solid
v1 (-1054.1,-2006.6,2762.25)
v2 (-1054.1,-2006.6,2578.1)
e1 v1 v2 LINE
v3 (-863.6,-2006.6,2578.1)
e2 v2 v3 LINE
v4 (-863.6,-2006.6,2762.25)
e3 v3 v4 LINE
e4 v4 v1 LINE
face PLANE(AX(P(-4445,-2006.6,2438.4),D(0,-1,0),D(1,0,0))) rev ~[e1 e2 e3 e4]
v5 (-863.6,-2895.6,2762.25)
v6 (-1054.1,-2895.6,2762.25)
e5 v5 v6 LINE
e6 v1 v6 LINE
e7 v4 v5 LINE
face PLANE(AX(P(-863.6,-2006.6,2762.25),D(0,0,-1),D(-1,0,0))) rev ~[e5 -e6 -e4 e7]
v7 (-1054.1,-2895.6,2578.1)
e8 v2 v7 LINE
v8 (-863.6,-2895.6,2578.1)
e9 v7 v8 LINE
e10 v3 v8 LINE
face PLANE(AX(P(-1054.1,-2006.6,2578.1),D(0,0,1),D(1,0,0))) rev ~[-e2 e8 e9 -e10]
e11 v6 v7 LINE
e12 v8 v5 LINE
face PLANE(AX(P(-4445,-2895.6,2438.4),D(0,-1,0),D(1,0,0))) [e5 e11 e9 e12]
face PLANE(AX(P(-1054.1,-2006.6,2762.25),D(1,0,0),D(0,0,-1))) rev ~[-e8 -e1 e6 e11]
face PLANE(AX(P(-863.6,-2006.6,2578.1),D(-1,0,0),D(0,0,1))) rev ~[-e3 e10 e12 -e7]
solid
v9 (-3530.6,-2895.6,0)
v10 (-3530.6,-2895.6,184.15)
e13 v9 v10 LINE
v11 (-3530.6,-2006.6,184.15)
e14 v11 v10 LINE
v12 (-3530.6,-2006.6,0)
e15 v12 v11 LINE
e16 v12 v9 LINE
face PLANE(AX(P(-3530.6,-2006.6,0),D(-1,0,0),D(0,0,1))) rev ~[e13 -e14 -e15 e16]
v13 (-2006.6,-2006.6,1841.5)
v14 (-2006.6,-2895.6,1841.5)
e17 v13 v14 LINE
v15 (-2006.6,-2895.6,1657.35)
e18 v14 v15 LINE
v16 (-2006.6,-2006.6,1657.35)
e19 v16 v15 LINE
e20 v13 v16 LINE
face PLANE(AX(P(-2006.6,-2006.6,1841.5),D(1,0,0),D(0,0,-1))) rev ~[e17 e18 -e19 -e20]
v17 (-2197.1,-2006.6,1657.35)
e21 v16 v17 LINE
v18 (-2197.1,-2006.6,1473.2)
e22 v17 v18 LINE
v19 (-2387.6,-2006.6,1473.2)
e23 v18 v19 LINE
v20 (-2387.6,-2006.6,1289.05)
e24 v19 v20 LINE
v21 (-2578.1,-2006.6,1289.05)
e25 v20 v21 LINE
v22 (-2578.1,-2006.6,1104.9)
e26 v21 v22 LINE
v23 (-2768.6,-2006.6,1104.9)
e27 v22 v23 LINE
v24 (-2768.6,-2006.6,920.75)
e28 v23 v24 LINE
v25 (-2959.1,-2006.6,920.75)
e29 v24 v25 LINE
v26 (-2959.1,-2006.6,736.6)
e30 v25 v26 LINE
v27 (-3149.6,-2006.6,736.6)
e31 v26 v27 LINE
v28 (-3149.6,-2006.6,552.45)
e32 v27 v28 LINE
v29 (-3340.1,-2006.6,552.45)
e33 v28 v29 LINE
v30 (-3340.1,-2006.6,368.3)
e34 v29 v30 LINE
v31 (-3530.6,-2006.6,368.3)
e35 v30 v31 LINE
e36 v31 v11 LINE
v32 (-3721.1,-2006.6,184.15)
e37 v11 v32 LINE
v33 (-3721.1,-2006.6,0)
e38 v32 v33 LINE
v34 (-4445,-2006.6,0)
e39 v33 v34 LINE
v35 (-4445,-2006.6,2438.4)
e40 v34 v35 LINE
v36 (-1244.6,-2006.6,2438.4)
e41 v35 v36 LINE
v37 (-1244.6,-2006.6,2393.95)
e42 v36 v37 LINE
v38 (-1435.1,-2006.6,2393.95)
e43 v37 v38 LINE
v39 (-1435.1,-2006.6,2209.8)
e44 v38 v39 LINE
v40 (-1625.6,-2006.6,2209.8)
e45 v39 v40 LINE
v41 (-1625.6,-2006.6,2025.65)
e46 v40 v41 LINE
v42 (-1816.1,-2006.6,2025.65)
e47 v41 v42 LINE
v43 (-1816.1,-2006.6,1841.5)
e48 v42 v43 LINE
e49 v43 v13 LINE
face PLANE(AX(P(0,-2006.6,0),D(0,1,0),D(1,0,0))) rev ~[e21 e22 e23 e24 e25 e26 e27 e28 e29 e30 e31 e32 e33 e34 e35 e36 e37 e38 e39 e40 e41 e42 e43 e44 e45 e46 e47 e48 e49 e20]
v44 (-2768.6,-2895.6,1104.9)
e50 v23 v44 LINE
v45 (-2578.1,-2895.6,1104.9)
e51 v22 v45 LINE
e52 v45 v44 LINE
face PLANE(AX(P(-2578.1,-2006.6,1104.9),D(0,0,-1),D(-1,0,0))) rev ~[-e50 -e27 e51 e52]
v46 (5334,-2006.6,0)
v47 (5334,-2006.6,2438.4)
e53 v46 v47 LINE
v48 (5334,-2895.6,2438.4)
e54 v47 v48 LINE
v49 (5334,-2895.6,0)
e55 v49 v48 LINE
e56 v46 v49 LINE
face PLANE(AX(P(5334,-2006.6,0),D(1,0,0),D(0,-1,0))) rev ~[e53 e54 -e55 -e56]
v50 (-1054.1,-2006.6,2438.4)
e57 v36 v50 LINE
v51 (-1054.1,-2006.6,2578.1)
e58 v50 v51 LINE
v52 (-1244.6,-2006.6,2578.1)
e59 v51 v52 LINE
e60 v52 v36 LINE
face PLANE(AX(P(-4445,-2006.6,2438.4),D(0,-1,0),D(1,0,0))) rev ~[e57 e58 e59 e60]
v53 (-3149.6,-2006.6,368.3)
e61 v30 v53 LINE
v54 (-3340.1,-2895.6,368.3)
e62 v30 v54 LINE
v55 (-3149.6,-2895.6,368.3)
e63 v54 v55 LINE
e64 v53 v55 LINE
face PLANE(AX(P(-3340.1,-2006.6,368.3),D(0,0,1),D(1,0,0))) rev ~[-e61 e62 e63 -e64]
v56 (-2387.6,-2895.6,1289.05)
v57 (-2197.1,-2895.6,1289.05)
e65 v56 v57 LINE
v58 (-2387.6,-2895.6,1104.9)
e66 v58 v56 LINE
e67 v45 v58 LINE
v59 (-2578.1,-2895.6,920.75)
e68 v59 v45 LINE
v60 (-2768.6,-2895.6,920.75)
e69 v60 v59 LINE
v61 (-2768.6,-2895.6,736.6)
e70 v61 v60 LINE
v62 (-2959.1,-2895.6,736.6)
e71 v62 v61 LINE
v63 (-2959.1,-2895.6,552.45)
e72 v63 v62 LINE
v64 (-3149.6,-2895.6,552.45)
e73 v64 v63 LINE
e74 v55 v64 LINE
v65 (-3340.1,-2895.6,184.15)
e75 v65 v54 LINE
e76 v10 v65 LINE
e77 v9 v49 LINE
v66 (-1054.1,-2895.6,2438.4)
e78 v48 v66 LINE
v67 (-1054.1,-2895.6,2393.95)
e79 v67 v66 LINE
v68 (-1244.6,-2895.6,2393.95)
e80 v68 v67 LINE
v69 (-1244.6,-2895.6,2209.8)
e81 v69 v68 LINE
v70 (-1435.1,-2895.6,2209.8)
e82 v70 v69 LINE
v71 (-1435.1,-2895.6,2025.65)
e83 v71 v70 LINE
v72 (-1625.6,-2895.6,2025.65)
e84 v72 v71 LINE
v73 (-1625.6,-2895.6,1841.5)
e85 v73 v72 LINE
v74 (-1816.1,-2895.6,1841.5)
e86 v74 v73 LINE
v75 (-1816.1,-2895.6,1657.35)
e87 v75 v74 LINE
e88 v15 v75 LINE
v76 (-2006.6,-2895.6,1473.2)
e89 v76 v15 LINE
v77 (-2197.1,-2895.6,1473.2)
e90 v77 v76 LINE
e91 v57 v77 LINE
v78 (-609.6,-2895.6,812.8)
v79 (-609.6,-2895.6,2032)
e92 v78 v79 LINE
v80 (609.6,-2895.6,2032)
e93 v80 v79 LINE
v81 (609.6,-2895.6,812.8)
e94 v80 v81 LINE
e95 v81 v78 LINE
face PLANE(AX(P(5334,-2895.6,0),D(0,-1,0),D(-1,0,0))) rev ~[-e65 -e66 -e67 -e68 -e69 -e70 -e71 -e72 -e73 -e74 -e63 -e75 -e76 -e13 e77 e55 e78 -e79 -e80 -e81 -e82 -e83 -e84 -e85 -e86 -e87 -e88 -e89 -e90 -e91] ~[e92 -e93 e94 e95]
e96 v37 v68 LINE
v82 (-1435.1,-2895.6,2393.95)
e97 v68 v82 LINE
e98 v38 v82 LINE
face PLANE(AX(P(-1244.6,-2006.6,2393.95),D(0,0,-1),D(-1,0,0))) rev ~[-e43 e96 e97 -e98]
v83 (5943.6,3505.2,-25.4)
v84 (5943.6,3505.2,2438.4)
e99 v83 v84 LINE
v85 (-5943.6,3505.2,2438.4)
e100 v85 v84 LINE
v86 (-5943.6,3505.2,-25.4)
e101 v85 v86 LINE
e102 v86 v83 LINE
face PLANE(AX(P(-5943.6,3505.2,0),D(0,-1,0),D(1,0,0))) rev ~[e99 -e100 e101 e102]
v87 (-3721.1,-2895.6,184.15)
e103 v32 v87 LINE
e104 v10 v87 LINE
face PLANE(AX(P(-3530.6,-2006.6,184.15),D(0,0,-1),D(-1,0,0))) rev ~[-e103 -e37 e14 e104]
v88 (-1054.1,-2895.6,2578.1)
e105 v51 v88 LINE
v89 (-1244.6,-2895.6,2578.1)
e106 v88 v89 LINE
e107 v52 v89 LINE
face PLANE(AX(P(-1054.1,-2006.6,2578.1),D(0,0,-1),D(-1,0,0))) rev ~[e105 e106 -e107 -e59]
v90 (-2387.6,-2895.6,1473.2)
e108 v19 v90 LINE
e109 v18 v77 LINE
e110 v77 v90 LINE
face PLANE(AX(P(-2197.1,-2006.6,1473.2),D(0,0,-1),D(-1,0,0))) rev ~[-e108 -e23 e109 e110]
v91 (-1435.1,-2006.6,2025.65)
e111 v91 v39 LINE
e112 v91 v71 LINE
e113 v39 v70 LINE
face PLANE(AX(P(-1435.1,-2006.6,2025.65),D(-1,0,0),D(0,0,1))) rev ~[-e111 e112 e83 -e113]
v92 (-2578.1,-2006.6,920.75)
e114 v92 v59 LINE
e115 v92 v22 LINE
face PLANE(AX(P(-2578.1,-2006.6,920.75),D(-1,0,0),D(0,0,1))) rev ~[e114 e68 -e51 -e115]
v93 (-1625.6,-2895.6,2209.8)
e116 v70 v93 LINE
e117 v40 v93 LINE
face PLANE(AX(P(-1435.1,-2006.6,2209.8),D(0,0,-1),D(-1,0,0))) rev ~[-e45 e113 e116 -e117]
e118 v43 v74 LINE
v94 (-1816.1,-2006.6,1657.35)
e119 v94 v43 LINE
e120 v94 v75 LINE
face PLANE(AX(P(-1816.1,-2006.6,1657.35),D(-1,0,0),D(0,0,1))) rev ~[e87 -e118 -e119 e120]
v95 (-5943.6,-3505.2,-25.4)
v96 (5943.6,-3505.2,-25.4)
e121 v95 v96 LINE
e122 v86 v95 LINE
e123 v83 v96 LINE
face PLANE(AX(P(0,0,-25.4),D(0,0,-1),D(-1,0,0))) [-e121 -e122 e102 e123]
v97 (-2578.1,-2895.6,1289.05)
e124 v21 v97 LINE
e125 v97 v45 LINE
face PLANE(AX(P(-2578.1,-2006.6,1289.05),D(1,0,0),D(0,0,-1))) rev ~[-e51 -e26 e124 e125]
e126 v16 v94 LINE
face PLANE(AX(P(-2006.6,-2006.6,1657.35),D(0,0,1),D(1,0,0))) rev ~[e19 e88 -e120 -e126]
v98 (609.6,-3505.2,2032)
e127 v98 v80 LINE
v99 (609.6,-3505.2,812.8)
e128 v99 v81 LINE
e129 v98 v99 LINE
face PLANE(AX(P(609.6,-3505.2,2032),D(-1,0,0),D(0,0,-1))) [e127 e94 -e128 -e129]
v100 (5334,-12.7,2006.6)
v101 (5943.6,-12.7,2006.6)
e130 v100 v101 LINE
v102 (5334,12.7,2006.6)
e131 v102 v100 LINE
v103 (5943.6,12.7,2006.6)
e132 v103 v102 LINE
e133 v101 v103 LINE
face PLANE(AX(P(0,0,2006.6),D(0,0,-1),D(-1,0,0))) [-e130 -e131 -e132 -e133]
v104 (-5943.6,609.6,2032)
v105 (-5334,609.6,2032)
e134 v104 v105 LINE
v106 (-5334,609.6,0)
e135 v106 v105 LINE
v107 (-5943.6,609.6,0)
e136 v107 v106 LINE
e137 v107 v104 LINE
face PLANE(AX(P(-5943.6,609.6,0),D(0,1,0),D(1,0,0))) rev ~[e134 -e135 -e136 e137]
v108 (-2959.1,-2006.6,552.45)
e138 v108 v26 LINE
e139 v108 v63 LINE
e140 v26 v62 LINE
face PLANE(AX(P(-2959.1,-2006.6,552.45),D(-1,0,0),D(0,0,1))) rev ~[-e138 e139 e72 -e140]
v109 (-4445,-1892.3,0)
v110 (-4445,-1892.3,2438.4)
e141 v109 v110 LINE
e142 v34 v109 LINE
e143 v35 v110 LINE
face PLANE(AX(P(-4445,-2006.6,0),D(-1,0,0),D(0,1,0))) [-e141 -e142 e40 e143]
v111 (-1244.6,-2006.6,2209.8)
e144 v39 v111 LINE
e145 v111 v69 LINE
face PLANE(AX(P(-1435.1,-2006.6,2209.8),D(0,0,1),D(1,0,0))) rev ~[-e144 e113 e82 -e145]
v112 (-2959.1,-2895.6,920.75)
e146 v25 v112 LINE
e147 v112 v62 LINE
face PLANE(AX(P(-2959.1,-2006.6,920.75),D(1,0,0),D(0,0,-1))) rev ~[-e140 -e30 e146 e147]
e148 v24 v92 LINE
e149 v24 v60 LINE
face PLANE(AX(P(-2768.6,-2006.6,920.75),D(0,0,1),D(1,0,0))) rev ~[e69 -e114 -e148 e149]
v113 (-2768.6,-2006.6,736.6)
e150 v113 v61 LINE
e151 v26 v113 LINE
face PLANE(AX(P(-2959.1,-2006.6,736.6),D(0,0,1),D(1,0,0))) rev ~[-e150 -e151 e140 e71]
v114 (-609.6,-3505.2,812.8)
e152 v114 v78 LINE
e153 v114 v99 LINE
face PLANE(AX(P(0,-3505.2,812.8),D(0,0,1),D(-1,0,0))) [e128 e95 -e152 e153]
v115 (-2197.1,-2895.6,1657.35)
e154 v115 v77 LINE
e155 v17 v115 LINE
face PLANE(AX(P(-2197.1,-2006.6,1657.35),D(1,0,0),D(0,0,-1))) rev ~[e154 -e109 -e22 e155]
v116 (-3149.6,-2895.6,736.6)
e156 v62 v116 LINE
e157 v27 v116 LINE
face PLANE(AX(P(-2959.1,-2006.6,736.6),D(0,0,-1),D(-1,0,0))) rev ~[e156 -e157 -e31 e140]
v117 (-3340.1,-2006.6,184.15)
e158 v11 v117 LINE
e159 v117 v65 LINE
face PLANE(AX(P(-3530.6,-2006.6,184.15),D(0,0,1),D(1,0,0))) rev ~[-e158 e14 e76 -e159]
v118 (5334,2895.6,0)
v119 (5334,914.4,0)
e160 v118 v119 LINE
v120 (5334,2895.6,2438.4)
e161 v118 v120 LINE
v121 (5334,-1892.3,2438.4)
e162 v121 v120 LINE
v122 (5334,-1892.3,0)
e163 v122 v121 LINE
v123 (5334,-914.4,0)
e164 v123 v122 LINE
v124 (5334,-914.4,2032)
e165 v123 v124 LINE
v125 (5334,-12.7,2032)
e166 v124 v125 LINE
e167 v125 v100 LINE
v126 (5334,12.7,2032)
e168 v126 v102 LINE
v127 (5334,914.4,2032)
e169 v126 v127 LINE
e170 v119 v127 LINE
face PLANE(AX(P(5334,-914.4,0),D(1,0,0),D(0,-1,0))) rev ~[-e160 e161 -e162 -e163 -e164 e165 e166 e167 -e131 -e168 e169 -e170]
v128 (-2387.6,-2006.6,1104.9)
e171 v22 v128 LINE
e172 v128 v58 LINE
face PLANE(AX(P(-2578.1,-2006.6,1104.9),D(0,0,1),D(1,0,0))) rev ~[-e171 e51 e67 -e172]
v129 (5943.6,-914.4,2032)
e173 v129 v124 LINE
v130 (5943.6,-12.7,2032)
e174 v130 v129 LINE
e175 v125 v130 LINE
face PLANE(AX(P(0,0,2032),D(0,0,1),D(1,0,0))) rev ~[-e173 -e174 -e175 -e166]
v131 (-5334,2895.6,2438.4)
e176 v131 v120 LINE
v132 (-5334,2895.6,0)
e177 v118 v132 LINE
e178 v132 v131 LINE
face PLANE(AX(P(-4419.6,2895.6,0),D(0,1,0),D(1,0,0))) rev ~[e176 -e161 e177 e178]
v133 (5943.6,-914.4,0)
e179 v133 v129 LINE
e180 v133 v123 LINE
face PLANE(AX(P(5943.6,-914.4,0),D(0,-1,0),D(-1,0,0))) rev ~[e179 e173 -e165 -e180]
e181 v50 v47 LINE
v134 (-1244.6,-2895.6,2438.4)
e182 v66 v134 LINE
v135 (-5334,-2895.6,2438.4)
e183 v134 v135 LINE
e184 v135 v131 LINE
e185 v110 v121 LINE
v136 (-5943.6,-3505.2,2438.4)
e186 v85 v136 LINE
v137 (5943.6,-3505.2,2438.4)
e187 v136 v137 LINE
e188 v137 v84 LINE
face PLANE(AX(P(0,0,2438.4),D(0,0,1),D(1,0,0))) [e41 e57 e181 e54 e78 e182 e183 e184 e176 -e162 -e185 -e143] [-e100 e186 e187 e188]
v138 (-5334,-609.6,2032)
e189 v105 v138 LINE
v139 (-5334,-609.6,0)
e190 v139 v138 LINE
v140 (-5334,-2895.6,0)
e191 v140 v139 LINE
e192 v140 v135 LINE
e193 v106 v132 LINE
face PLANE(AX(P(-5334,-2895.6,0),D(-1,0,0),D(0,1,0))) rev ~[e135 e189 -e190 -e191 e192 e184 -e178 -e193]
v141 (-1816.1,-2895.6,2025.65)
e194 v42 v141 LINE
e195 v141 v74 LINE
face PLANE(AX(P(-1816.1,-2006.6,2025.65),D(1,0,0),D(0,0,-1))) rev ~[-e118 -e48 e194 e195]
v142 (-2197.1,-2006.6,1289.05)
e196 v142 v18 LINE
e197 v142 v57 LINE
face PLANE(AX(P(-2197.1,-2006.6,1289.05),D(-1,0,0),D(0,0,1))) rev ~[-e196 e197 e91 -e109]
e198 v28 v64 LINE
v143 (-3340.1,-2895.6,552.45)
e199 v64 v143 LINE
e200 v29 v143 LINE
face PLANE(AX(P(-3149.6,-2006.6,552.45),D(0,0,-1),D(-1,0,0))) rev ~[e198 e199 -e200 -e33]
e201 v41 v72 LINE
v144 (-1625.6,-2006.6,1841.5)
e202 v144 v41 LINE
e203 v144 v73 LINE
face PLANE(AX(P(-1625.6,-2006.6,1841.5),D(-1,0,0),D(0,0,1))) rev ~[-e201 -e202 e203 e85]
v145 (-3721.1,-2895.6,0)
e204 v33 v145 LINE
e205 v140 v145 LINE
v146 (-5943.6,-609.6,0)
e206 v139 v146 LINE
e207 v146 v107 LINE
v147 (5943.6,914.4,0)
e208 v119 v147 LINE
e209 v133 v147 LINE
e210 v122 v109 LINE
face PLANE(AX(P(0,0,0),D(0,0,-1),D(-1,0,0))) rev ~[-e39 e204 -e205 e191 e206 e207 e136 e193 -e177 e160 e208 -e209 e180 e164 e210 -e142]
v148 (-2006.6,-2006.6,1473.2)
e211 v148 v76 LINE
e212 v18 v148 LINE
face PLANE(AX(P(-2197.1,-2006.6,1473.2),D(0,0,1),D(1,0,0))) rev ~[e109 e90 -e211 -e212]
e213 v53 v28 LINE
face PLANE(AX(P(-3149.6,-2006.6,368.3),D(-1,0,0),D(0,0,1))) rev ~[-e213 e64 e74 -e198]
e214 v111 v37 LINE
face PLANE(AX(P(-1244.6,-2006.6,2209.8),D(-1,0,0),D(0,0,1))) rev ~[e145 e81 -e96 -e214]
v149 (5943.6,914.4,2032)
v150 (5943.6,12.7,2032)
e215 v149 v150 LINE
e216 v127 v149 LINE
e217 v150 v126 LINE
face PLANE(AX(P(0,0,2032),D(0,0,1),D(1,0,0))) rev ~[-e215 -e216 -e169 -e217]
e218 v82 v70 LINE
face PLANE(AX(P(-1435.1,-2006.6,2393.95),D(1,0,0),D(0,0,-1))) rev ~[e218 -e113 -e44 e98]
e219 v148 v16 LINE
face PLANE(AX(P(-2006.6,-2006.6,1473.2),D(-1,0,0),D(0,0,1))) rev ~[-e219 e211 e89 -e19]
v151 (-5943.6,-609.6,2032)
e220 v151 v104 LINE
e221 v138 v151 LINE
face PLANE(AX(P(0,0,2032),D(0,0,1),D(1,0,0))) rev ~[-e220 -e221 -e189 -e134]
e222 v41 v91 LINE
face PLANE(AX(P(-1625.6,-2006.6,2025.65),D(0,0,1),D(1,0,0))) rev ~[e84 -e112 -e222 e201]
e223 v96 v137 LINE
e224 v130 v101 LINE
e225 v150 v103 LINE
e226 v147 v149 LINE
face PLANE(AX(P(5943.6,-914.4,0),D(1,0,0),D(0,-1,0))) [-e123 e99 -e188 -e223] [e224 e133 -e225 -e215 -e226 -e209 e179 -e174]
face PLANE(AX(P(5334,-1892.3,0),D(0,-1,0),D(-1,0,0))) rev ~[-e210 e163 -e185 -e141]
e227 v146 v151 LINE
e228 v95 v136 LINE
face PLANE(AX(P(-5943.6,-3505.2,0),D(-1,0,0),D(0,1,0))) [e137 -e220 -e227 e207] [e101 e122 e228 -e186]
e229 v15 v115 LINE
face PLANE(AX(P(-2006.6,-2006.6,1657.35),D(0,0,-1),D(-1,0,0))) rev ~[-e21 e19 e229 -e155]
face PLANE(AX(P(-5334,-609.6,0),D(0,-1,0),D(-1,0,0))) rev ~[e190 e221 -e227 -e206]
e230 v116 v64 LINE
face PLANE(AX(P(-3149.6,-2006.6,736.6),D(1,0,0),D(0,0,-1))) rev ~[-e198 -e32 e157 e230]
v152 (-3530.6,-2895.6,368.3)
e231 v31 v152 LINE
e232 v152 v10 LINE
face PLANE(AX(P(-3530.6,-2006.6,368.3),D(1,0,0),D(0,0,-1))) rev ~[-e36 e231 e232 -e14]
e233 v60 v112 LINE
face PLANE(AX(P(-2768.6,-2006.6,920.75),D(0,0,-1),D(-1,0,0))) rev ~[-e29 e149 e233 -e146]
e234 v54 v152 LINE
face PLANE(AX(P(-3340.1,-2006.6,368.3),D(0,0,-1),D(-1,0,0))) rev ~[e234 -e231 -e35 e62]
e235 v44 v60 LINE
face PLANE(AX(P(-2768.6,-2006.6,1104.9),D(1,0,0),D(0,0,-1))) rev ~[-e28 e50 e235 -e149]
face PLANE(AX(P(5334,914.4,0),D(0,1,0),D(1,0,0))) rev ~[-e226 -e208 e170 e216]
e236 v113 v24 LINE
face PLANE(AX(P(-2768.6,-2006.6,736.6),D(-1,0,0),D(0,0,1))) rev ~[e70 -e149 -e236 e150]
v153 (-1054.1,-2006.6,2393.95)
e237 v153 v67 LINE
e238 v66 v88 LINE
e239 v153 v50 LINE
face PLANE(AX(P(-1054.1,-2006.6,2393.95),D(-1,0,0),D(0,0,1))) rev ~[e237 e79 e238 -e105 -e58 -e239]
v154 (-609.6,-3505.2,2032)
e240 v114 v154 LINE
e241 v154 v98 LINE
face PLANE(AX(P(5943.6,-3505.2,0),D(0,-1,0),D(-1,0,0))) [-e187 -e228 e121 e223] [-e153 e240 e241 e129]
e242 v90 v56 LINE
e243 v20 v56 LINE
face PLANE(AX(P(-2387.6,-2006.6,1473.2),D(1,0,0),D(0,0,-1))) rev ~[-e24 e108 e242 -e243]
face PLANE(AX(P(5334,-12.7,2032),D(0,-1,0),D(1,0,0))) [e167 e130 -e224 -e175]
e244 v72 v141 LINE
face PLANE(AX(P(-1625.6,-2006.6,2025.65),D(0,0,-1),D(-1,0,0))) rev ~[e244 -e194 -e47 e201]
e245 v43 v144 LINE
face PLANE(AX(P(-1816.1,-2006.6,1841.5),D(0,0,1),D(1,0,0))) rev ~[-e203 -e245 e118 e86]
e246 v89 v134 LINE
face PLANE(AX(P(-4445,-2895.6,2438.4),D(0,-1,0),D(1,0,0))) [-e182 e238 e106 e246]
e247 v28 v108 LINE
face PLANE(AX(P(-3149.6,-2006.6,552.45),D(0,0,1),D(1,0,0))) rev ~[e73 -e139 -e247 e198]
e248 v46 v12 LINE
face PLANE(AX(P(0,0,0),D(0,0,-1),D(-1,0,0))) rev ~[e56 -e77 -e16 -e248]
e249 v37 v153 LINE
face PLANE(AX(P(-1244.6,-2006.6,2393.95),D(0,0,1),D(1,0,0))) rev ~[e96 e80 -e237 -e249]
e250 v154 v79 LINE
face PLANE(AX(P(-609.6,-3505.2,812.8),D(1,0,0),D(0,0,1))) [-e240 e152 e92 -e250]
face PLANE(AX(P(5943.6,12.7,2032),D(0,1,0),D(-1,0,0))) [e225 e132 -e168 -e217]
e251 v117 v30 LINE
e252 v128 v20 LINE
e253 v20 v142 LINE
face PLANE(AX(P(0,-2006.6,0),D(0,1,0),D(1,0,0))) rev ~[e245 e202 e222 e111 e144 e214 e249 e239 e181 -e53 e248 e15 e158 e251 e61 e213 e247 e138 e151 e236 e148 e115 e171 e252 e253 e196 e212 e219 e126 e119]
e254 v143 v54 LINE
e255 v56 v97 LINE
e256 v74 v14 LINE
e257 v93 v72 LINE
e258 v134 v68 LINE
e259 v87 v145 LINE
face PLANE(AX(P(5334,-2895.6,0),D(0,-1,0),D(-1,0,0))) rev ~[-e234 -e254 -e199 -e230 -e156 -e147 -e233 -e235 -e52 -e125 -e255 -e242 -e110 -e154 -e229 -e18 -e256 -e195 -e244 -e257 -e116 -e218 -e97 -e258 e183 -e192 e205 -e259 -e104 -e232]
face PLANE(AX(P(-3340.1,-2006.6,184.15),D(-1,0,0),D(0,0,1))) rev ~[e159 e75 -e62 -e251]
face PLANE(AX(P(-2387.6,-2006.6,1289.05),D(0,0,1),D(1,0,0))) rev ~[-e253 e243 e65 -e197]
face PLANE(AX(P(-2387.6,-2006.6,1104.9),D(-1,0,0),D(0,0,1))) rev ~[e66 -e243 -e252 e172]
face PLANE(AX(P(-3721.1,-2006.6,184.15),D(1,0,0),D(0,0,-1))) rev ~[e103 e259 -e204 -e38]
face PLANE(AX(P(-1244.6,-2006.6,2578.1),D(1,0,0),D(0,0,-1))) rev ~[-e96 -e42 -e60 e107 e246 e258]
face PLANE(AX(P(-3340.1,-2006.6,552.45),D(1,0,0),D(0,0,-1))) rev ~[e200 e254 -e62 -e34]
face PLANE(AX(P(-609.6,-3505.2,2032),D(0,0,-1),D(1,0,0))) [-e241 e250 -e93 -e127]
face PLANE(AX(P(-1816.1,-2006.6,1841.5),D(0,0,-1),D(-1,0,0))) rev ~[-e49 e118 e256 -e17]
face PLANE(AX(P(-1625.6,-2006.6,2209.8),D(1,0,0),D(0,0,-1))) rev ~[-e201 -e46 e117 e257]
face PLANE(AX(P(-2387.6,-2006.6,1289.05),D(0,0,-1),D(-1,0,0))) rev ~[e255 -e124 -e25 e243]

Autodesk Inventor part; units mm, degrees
ref_plane "YZ Plane" through (0, 0, 0) normal (1, 0, 0) x (0, 1, 0)
ref_plane "XZ Plane" through (0, 0, 0) normal (0, 1, 0) x (-1, 0, 0)
ref_plane "XY Plane" through (0, 0, 0) normal (0, 0, 1) x (1, 0, 0)
sketch "Sketch1" plane through (0, 0, 0) normal (0, 0, 1) x (1, 0, 0)
  line L0 (-8321.04, 0) -> (8321.04, 0) projected
  line L1 (-5943.6, 3505.2) -> (5943.6, 3505.2)
  line L2 (-5334, 2895.6) -> (5334, 2895.6)
  line L3 (-4572, 2895.6) -> (-4419.6, 2895.6)
  line L4 (-1981.2, -2006.6) -> (-4445, -2006.6)
  line L5 (-4445, -2006.6) -> (-4445, -1892.3)
  line L6 (-1219.2, -2895.6) -> (-1066.8, -2895.6)
  line L7 (5334, -2895.6) -> (0, -2895.6)
  line L8 (0, -2895.6) -> (-5334, -2895.6)
  line L9 (5943.6, -3505.2) -> (0, -3505.2)
  line L10 (0, -3505.2) -> (-5943.6, -3505.2)
  line L11 (5334, 914.4) -> (5943.6, 914.4)
  line L12 (5943.6, -914.4) -> (5334, -914.4)
  line L13 (5334, 2895.6) -> (5334, 914.4)
  line L14 (5334, -914.4) -> (5334, -2895.6)
  line L15 (5943.6, 3505.2) -> (5943.6, 914.4)
  line L16 (5943.6, -914.4) -> (5943.6, -3505.2)
  line L17 (-4445, -2006.6) -> (5334, -2006.6)
  line L18 (5334, -1892.3) -> (-4445, -1892.3)
  line L19 (-4445, -1892.3) -> (-4445, -2006.6)
  line L20 (5334, -1892.3) -> (5334, -2006.6)
  line L21 (-5943.6, 609.6) -> (-5334, 609.6)
  line L22 (-5334, -609.6) -> (-5943.6, -609.6)
  line L23 (-5943.6, -3505.2) -> (-5943.6, -609.6)
  line L24 (-5943.6, 609.6) -> (-5943.6, 3505.2)
  line L25 (-5334, -2895.6) -> (-5334, -609.6)
  line L26 (-5334, 609.6) -> (-5334, 2895.6)
  line L27 (-4445, -2006.6) -> (-4419.6, -2006.6)
  line L28 (-4419.6, 2895.6) -> (-4572, 2895.6)
  line L29 (-4445, -1892.3) -> (-4445, -2006.6)
  line L30 (0, -4907.28) -> (0, 4907.28) projected
  dimension "d18" = 7010.4
  dimension "d19" = 609.6
  dimension "d20" = 609.6
  dimension "d23" = 1828.8
  dimension "d24" = 2590.8
  dimension "d25" = 609.6
  dimension "d28" = 114.3
  dimension "d29" = 0
  dimension "d34" = 1219.2
  dimension "d35" = 2895.6
  dimension "d36" = 609.6
  dimension "d46" = 889
  dimension "d105" = 889
  dimension "d106" = 11887.2
extrude "Extrusion9" add sketch "Sketch1" along normal blind 2438.4 contours L18 L14 L17 L30 | L30 L17 L4 L5 L18 | L1 L30 L2 L26 L21 L24 | L1 L15 L11 L13 L2 L30 | L14 L12 L16 L9 L30 L7 | L30 L10 L23 L22 L25 L8 L6
sketch "Sketch8" plane through (0, 0, 0) normal (0, 0, -1) x (-1, 0, 0)
  line L0 (5943.6, 3505.2) -> (-5943.6, 3505.2) projected
  line L1 (-5943.6, 3505.2) -> (-5943.6, 914.4) projected
  line L2 (-5943.6, 914.4) -> (-5334, 914.4) projected
  line L3 (-5334, 914.4) -> (-5334, 2895.6) projected
  line L4 (-5334, 2895.6) -> (5334, 2895.6) projected
  line L5 (5334, 2895.6) -> (5334, 609.6) projected
  line L6 (5334, 609.6) -> (5943.6, 609.6) projected
  line L7 (5943.6, 609.6) -> (5943.6, 3505.2) projected
  line L8 (-5943.6, 3505.2) -> (5943.6, 3505.2)
  line L9 (5943.6, 3505.2) -> (5943.6, -3505.2)
  line L10 (5943.6, -3505.2) -> (-5943.6, -3505.2)
  line L11 (-5943.6, -3505.2) -> (-5943.6, 3505.2)
  point P0 (0, 0)
extrude "Extrusion10" add sketch "Sketch8" along normal blind 25.4
sketch "Sketch9" plane through (0, 0, 2438.4) normal (0, 0, 1) x (1, 0, 0)
  line L0 (5943.6, 3505.2) -> (-5943.6, 3505.2) projected
  line L1 (-5943.6, 3505.2) -> (-5943.6, 609.6) projected
  line L2 (-5943.6, 609.6) -> (-5334, 609.6) projected
  line L3 (-5334, 609.6) -> (-5334, 2895.6) projected
  line L4 (-5334, 2895.6) -> (5334, 2895.6) projected
  line L5 (5334, 2895.6) -> (5334, 914.4) projected
  line L6 (5334, 914.4) -> (5943.6, 914.4) projected
  line L7 (5943.6, 914.4) -> (5943.6, 3505.2) projected
  line L8 (-5943.6, 609.6) -> (-5334, 609.6)
  line L9 (-5334, 609.6) -> (-5334, -609.6)
  line L10 (-5334, -609.6) -> (-5943.6, -609.6)
  line L11 (-5943.6, -609.6) -> (-5943.6, 609.6)
  line L12 (5334, 914.4) -> (5943.6, 914.4)
  line L13 (5943.6, 914.4) -> (5943.6, -914.4)
  line L14 (5943.6, -914.4) -> (5334, -914.4)
  line L15 (5334, -914.4) -> (5334, 914.4)
  point P0 (0, 0)
extrude "Extrusion11" add sketch "Sketch9" against normal blind 406.4 contours L13 L14 L15 L6 | L2 L9 L10 L11
sketch "Sketch10" plane through (-4445, -2006.6, 2438.4) normal (0, -1, 0) x (1, 0, 0)
  line L0 (0, -2438.4) -> (9779, -2438.4) projected
  line L1 (0, -2438.4) -> (0, 0) projected
  line L2 (723.9, -2438.4) -> (914.4, -2438.4)
  line L3 (914.4, -2438.4) -> (914.4, -2254.25)
  line L4 (914.4, -2254.25) -> (723.9, -2254.25)
  line L5 (723.9, -2254.25) -> (723.9, -2438.4)
  line L6 (914.4, -2254.25) -> (1104.9, -2254.25)
  line L7 (1104.9, -2254.25) -> (1104.9, -2070.1)
  line L8 (1104.9, -2070.1) -> (914.4, -2070.1)
  line L9 (914.4, -2070.1) -> (914.4, -2254.25)
  line L10 (1104.9, -2070.1) -> (1295.4, -2070.1)
  line L11 (1295.4, -2070.1) -> (1295.4, -1885.95)
  line L12 (1295.4, -1885.95) -> (1104.9, -1885.95)
  line L13 (1104.9, -1885.95) -> (1104.9, -2070.1)
  line L14 (1295.4, -1885.95) -> (1485.9, -1885.95)
  line L15 (1485.9, -1885.95) -> (1485.9, -1701.8)
  line L16 (1485.9, -1701.8) -> (1295.4, -1701.8)
  line L17 (1295.4, -1701.8) -> (1295.4, -1885.95)
  line L18 (1485.9, -1701.8) -> (1676.4, -1701.8)
  line L19 (1676.4, -1701.8) -> (1676.4, -1517.65)
  line L20 (1676.4, -1517.65) -> (1485.9, -1517.65)
  line L21 (1485.9, -1517.65) -> (1485.9, -1701.8)
  line L22 (1676.4, -1517.65) -> (1866.9, -1517.65)
  line L23 (1866.9, -1517.65) -> (1866.9, -1333.5)
  line L24 (1866.9, -1333.5) -> (1676.4, -1333.5)
  line L25 (1676.4, -1333.5) -> (1676.4, -1517.65)
  line L26 (1866.9, -1333.5) -> (2057.4, -1333.5)
  line L27 (2057.4, -1333.5) -> (2057.4, -1149.35)
  line L28 (2057.4, -1149.35) -> (1866.9, -1149.35)
  line L29 (1866.9, -1149.35) -> (1866.9, -1333.5)
  line L30 (2438.4, -965.2) -> (2438.4, -781.05)
  line L31 (2247.9, -1149.35) -> (2247.9, -965.2)
  line L32 (2247.9, -965.2) -> (2438.4, -965.2)
  line L33 (2438.4, -781.05) -> (2247.9, -781.05)
  line L34 (2247.9, -781.05) -> (2247.9, -965.2)
  line L35 (2057.4, -1149.35) -> (2247.9, -1149.35)
  line L36 (2247.9, -965.2) -> (2057.4, -965.2)
  line L37 (2057.4, -965.2) -> (2057.4, -1149.35)
  line L38 (2628.9, -781.05) -> (2628.9, -596.9)
  line L39 (2438.4, -781.05) -> (2628.9, -781.05)
  line L40 (2628.9, -596.9) -> (2438.4, -596.9)
  line L41 (2438.4, -596.9) -> (2438.4, -781.05)
  line L42 (3200.4, -228.6) -> (3200.4, -44.45)
  line L43 (3200.4, 139.7) -> (3200.4, -44.45)
  line L44 (3200.4, -44.45) -> (3390.9, -44.45)
  line L45 (3390.9, 139.7) -> (3200.4, 139.7)
  line L46 (3009.9, -44.45) -> (3009.9, -228.6)
  line L47 (3009.9, -228.6) -> (3200.4, -228.6)
  line L48 (3200.4, -44.45) -> (3009.9, -44.45)
  line L49 (3390.9, -44.45) -> (3390.9, 139.7)
  line L50 (3009.9, -412.75) -> (3009.9, -228.6)
  line L51 (3009.9, -228.6) -> (2819.4, -228.6)
  line L52 (2819.4, -412.75) -> (3009.9, -412.75)
  line L53 (2819.4, -228.6) -> (2819.4, -412.75)
  line L54 (2819.4, -596.9) -> (2819.4, -412.75)
  line L55 (2819.4, -412.75) -> (2628.9, -412.75)
  line L56 (2628.9, -596.9) -> (2819.4, -596.9)
  line L57 (2628.9, -412.75) -> (2628.9, -596.9)
  line L58 (3390.9, 139.7) -> (3581.4, 139.7)
  line L59 (3581.4, 139.7) -> (3581.4, 323.85)
  line L60 (3581.4, 323.85) -> (3390.9, 323.85)
  line L61 (3390.9, 323.85) -> (3390.9, 139.7)
  point P0 (8445.5, -2438.4)
  point P1 (4445, -2438.4)
  dimension "d113" = 190.5
  dimension "d115" = 184.15
  dimension "d116" = 723.9
  dimension "d117" = 190.5
  dimension "d118" = 184.15
  dimension "d119" = 190.5
  dimension "d120" = 184.15
  dimension "d121" = 190.5
  dimension "d122" = 184.15
  dimension "d123" = 190.5
  dimension "d124" = 184.15
  dimension "d125" = 190.5
  dimension "d126" = 184.15
  dimension "d127" = 190.5
  dimension "d128" = 184.15
  dimension "d129" = 190.5
  dimension "d130" = 184.15
  dimension "d131" = 190.5
  dimension "d132" = 184.15
  dimension "d133" = 190.5
  dimension "d134" = 184.15
  dimension "d135" = 190.5
  dimension "d136" = 184.15
  dimension "d137" = 190.5
  dimension "d138" = 184.15
  dimension "d139" = 190.5
  dimension "d140" = 184.15
  dimension "d141" = 190.5
  dimension "d142" = 184.15
  dimension "d154" = 184.15
  dimension "d155" = 190.5
extrude "Extrusion12" add sketch "Sketch10" along normal up to surface (889 mm away)
sketch "Sketch11" plane through (-5943.6, -3505.2, 2438.4) normal (0, -1, 0) x (1, 0, 0)
  line L0 (5334, -406.4) -> (6553.2, -406.4)
  line L1 (6553.2, -406.4) -> (6553.2, -1625.6)
  line L2 (6553.2, -1625.6) -> (5334, -1625.6)
  line L3 (5334, -1625.6) -> (5334, -406.4)
  line L4 (11277.6, -2438.4) -> (2413, -2438.4) projected
  line L5 (5943.6, -3021.33) -> (5943.6, 881.38) projected
  point P0 (5943.6, -2438.4)
  dimension "d145" = 1219.2
  dimension "d147" = 1219.2
  dimension "d148" = 812.8
extrude "Extrusion13" cut sketch "Sketch11" against normal up to surface (609.6 mm away)
sketch "Sketch14" plane through (0, 0, 2032) normal (0, 0, -1) x (-1, 0, 0)
  line L0 (-5334, -914.4) -> (-5334, 914.4) projected
  line L1 (-5943.6, 914.4) -> (-5943.6, -914.4) projected
  line L2 (-8321.04, 0) -> (8321.04, 0) projected
  line L3 (-5943.6, 12.7) -> (-5334, 12.7)
  line L4 (-5334, 12.7) -> (-5334, -12.7)
  line L5 (-5334, -12.7) -> (-5943.6, -12.7)
  line L6 (-5943.6, -12.7) -> (-5943.6, 12.7)
  point P0 (0, 0)
  dimension "d156" = 25.4
extrude "Extrusion15" add sketch "Sketch14" along normal blind 25.4
sketch "Sketch12" plane through (0, 0, 2438.4) normal (0, 0, 1) x (1, 0, 0)
  line L0 (-5943.6, -3505.2) -> (5943.6, -3505.2) projected
  line L1 (5943.6, -3505.2) -> (5943.6, 3505.2) projected
  line L2 (5943.6, 3505.2) -> (-5943.6, 3505.2) projected
  line L3 (-5943.6, 3505.2) -> (5943.6, 3505.2)
  line L4 (5943.6, 3505.2) -> (5943.6, -2463.8)
  line L5 (5943.6, -2463.8) -> (-5943.6, -2463.8)
  line L6 (-5943.6, -2463.8) -> (-5943.6, 3505.2)
  line L7 (-1054.1, -2006.6) -> (5943.6, -2006.6)
  line L8 (5943.6, -2006.6) -> (5943.6, -3505.2)
  line L9 (5943.6, -3505.2) -> (-1054.1, -3505.2)
  line L10 (-1054.1, -3505.2) -> (-1054.1, -2006.6)
  line L11 (-5943.6, -2463.8) -> (-5181.6, -2463.8)
  line L12 (-5181.6, -2463.8) -> (-5181.6, -3505.2)
  line L13 (-5181.6, -3505.2) -> (-5943.6, -3505.2)
  line L14 (-5943.6, -3505.2) -> (-5943.6, -2463.8)
  line L15 (-1054.1, -2895.6) -> (-5943.6, -2895.6)
  line L16 (-5943.6, -2895.6) -> (-5943.6, -3505.2)
  line L17 (-5943.6, -3505.2) -> (-1054.1, -3505.2)
  line L18 (-1054.1, -3505.2) -> (-1054.1, -2895.6)
  point P0 (0, 0)
properties part number "1st Floor Updated"
